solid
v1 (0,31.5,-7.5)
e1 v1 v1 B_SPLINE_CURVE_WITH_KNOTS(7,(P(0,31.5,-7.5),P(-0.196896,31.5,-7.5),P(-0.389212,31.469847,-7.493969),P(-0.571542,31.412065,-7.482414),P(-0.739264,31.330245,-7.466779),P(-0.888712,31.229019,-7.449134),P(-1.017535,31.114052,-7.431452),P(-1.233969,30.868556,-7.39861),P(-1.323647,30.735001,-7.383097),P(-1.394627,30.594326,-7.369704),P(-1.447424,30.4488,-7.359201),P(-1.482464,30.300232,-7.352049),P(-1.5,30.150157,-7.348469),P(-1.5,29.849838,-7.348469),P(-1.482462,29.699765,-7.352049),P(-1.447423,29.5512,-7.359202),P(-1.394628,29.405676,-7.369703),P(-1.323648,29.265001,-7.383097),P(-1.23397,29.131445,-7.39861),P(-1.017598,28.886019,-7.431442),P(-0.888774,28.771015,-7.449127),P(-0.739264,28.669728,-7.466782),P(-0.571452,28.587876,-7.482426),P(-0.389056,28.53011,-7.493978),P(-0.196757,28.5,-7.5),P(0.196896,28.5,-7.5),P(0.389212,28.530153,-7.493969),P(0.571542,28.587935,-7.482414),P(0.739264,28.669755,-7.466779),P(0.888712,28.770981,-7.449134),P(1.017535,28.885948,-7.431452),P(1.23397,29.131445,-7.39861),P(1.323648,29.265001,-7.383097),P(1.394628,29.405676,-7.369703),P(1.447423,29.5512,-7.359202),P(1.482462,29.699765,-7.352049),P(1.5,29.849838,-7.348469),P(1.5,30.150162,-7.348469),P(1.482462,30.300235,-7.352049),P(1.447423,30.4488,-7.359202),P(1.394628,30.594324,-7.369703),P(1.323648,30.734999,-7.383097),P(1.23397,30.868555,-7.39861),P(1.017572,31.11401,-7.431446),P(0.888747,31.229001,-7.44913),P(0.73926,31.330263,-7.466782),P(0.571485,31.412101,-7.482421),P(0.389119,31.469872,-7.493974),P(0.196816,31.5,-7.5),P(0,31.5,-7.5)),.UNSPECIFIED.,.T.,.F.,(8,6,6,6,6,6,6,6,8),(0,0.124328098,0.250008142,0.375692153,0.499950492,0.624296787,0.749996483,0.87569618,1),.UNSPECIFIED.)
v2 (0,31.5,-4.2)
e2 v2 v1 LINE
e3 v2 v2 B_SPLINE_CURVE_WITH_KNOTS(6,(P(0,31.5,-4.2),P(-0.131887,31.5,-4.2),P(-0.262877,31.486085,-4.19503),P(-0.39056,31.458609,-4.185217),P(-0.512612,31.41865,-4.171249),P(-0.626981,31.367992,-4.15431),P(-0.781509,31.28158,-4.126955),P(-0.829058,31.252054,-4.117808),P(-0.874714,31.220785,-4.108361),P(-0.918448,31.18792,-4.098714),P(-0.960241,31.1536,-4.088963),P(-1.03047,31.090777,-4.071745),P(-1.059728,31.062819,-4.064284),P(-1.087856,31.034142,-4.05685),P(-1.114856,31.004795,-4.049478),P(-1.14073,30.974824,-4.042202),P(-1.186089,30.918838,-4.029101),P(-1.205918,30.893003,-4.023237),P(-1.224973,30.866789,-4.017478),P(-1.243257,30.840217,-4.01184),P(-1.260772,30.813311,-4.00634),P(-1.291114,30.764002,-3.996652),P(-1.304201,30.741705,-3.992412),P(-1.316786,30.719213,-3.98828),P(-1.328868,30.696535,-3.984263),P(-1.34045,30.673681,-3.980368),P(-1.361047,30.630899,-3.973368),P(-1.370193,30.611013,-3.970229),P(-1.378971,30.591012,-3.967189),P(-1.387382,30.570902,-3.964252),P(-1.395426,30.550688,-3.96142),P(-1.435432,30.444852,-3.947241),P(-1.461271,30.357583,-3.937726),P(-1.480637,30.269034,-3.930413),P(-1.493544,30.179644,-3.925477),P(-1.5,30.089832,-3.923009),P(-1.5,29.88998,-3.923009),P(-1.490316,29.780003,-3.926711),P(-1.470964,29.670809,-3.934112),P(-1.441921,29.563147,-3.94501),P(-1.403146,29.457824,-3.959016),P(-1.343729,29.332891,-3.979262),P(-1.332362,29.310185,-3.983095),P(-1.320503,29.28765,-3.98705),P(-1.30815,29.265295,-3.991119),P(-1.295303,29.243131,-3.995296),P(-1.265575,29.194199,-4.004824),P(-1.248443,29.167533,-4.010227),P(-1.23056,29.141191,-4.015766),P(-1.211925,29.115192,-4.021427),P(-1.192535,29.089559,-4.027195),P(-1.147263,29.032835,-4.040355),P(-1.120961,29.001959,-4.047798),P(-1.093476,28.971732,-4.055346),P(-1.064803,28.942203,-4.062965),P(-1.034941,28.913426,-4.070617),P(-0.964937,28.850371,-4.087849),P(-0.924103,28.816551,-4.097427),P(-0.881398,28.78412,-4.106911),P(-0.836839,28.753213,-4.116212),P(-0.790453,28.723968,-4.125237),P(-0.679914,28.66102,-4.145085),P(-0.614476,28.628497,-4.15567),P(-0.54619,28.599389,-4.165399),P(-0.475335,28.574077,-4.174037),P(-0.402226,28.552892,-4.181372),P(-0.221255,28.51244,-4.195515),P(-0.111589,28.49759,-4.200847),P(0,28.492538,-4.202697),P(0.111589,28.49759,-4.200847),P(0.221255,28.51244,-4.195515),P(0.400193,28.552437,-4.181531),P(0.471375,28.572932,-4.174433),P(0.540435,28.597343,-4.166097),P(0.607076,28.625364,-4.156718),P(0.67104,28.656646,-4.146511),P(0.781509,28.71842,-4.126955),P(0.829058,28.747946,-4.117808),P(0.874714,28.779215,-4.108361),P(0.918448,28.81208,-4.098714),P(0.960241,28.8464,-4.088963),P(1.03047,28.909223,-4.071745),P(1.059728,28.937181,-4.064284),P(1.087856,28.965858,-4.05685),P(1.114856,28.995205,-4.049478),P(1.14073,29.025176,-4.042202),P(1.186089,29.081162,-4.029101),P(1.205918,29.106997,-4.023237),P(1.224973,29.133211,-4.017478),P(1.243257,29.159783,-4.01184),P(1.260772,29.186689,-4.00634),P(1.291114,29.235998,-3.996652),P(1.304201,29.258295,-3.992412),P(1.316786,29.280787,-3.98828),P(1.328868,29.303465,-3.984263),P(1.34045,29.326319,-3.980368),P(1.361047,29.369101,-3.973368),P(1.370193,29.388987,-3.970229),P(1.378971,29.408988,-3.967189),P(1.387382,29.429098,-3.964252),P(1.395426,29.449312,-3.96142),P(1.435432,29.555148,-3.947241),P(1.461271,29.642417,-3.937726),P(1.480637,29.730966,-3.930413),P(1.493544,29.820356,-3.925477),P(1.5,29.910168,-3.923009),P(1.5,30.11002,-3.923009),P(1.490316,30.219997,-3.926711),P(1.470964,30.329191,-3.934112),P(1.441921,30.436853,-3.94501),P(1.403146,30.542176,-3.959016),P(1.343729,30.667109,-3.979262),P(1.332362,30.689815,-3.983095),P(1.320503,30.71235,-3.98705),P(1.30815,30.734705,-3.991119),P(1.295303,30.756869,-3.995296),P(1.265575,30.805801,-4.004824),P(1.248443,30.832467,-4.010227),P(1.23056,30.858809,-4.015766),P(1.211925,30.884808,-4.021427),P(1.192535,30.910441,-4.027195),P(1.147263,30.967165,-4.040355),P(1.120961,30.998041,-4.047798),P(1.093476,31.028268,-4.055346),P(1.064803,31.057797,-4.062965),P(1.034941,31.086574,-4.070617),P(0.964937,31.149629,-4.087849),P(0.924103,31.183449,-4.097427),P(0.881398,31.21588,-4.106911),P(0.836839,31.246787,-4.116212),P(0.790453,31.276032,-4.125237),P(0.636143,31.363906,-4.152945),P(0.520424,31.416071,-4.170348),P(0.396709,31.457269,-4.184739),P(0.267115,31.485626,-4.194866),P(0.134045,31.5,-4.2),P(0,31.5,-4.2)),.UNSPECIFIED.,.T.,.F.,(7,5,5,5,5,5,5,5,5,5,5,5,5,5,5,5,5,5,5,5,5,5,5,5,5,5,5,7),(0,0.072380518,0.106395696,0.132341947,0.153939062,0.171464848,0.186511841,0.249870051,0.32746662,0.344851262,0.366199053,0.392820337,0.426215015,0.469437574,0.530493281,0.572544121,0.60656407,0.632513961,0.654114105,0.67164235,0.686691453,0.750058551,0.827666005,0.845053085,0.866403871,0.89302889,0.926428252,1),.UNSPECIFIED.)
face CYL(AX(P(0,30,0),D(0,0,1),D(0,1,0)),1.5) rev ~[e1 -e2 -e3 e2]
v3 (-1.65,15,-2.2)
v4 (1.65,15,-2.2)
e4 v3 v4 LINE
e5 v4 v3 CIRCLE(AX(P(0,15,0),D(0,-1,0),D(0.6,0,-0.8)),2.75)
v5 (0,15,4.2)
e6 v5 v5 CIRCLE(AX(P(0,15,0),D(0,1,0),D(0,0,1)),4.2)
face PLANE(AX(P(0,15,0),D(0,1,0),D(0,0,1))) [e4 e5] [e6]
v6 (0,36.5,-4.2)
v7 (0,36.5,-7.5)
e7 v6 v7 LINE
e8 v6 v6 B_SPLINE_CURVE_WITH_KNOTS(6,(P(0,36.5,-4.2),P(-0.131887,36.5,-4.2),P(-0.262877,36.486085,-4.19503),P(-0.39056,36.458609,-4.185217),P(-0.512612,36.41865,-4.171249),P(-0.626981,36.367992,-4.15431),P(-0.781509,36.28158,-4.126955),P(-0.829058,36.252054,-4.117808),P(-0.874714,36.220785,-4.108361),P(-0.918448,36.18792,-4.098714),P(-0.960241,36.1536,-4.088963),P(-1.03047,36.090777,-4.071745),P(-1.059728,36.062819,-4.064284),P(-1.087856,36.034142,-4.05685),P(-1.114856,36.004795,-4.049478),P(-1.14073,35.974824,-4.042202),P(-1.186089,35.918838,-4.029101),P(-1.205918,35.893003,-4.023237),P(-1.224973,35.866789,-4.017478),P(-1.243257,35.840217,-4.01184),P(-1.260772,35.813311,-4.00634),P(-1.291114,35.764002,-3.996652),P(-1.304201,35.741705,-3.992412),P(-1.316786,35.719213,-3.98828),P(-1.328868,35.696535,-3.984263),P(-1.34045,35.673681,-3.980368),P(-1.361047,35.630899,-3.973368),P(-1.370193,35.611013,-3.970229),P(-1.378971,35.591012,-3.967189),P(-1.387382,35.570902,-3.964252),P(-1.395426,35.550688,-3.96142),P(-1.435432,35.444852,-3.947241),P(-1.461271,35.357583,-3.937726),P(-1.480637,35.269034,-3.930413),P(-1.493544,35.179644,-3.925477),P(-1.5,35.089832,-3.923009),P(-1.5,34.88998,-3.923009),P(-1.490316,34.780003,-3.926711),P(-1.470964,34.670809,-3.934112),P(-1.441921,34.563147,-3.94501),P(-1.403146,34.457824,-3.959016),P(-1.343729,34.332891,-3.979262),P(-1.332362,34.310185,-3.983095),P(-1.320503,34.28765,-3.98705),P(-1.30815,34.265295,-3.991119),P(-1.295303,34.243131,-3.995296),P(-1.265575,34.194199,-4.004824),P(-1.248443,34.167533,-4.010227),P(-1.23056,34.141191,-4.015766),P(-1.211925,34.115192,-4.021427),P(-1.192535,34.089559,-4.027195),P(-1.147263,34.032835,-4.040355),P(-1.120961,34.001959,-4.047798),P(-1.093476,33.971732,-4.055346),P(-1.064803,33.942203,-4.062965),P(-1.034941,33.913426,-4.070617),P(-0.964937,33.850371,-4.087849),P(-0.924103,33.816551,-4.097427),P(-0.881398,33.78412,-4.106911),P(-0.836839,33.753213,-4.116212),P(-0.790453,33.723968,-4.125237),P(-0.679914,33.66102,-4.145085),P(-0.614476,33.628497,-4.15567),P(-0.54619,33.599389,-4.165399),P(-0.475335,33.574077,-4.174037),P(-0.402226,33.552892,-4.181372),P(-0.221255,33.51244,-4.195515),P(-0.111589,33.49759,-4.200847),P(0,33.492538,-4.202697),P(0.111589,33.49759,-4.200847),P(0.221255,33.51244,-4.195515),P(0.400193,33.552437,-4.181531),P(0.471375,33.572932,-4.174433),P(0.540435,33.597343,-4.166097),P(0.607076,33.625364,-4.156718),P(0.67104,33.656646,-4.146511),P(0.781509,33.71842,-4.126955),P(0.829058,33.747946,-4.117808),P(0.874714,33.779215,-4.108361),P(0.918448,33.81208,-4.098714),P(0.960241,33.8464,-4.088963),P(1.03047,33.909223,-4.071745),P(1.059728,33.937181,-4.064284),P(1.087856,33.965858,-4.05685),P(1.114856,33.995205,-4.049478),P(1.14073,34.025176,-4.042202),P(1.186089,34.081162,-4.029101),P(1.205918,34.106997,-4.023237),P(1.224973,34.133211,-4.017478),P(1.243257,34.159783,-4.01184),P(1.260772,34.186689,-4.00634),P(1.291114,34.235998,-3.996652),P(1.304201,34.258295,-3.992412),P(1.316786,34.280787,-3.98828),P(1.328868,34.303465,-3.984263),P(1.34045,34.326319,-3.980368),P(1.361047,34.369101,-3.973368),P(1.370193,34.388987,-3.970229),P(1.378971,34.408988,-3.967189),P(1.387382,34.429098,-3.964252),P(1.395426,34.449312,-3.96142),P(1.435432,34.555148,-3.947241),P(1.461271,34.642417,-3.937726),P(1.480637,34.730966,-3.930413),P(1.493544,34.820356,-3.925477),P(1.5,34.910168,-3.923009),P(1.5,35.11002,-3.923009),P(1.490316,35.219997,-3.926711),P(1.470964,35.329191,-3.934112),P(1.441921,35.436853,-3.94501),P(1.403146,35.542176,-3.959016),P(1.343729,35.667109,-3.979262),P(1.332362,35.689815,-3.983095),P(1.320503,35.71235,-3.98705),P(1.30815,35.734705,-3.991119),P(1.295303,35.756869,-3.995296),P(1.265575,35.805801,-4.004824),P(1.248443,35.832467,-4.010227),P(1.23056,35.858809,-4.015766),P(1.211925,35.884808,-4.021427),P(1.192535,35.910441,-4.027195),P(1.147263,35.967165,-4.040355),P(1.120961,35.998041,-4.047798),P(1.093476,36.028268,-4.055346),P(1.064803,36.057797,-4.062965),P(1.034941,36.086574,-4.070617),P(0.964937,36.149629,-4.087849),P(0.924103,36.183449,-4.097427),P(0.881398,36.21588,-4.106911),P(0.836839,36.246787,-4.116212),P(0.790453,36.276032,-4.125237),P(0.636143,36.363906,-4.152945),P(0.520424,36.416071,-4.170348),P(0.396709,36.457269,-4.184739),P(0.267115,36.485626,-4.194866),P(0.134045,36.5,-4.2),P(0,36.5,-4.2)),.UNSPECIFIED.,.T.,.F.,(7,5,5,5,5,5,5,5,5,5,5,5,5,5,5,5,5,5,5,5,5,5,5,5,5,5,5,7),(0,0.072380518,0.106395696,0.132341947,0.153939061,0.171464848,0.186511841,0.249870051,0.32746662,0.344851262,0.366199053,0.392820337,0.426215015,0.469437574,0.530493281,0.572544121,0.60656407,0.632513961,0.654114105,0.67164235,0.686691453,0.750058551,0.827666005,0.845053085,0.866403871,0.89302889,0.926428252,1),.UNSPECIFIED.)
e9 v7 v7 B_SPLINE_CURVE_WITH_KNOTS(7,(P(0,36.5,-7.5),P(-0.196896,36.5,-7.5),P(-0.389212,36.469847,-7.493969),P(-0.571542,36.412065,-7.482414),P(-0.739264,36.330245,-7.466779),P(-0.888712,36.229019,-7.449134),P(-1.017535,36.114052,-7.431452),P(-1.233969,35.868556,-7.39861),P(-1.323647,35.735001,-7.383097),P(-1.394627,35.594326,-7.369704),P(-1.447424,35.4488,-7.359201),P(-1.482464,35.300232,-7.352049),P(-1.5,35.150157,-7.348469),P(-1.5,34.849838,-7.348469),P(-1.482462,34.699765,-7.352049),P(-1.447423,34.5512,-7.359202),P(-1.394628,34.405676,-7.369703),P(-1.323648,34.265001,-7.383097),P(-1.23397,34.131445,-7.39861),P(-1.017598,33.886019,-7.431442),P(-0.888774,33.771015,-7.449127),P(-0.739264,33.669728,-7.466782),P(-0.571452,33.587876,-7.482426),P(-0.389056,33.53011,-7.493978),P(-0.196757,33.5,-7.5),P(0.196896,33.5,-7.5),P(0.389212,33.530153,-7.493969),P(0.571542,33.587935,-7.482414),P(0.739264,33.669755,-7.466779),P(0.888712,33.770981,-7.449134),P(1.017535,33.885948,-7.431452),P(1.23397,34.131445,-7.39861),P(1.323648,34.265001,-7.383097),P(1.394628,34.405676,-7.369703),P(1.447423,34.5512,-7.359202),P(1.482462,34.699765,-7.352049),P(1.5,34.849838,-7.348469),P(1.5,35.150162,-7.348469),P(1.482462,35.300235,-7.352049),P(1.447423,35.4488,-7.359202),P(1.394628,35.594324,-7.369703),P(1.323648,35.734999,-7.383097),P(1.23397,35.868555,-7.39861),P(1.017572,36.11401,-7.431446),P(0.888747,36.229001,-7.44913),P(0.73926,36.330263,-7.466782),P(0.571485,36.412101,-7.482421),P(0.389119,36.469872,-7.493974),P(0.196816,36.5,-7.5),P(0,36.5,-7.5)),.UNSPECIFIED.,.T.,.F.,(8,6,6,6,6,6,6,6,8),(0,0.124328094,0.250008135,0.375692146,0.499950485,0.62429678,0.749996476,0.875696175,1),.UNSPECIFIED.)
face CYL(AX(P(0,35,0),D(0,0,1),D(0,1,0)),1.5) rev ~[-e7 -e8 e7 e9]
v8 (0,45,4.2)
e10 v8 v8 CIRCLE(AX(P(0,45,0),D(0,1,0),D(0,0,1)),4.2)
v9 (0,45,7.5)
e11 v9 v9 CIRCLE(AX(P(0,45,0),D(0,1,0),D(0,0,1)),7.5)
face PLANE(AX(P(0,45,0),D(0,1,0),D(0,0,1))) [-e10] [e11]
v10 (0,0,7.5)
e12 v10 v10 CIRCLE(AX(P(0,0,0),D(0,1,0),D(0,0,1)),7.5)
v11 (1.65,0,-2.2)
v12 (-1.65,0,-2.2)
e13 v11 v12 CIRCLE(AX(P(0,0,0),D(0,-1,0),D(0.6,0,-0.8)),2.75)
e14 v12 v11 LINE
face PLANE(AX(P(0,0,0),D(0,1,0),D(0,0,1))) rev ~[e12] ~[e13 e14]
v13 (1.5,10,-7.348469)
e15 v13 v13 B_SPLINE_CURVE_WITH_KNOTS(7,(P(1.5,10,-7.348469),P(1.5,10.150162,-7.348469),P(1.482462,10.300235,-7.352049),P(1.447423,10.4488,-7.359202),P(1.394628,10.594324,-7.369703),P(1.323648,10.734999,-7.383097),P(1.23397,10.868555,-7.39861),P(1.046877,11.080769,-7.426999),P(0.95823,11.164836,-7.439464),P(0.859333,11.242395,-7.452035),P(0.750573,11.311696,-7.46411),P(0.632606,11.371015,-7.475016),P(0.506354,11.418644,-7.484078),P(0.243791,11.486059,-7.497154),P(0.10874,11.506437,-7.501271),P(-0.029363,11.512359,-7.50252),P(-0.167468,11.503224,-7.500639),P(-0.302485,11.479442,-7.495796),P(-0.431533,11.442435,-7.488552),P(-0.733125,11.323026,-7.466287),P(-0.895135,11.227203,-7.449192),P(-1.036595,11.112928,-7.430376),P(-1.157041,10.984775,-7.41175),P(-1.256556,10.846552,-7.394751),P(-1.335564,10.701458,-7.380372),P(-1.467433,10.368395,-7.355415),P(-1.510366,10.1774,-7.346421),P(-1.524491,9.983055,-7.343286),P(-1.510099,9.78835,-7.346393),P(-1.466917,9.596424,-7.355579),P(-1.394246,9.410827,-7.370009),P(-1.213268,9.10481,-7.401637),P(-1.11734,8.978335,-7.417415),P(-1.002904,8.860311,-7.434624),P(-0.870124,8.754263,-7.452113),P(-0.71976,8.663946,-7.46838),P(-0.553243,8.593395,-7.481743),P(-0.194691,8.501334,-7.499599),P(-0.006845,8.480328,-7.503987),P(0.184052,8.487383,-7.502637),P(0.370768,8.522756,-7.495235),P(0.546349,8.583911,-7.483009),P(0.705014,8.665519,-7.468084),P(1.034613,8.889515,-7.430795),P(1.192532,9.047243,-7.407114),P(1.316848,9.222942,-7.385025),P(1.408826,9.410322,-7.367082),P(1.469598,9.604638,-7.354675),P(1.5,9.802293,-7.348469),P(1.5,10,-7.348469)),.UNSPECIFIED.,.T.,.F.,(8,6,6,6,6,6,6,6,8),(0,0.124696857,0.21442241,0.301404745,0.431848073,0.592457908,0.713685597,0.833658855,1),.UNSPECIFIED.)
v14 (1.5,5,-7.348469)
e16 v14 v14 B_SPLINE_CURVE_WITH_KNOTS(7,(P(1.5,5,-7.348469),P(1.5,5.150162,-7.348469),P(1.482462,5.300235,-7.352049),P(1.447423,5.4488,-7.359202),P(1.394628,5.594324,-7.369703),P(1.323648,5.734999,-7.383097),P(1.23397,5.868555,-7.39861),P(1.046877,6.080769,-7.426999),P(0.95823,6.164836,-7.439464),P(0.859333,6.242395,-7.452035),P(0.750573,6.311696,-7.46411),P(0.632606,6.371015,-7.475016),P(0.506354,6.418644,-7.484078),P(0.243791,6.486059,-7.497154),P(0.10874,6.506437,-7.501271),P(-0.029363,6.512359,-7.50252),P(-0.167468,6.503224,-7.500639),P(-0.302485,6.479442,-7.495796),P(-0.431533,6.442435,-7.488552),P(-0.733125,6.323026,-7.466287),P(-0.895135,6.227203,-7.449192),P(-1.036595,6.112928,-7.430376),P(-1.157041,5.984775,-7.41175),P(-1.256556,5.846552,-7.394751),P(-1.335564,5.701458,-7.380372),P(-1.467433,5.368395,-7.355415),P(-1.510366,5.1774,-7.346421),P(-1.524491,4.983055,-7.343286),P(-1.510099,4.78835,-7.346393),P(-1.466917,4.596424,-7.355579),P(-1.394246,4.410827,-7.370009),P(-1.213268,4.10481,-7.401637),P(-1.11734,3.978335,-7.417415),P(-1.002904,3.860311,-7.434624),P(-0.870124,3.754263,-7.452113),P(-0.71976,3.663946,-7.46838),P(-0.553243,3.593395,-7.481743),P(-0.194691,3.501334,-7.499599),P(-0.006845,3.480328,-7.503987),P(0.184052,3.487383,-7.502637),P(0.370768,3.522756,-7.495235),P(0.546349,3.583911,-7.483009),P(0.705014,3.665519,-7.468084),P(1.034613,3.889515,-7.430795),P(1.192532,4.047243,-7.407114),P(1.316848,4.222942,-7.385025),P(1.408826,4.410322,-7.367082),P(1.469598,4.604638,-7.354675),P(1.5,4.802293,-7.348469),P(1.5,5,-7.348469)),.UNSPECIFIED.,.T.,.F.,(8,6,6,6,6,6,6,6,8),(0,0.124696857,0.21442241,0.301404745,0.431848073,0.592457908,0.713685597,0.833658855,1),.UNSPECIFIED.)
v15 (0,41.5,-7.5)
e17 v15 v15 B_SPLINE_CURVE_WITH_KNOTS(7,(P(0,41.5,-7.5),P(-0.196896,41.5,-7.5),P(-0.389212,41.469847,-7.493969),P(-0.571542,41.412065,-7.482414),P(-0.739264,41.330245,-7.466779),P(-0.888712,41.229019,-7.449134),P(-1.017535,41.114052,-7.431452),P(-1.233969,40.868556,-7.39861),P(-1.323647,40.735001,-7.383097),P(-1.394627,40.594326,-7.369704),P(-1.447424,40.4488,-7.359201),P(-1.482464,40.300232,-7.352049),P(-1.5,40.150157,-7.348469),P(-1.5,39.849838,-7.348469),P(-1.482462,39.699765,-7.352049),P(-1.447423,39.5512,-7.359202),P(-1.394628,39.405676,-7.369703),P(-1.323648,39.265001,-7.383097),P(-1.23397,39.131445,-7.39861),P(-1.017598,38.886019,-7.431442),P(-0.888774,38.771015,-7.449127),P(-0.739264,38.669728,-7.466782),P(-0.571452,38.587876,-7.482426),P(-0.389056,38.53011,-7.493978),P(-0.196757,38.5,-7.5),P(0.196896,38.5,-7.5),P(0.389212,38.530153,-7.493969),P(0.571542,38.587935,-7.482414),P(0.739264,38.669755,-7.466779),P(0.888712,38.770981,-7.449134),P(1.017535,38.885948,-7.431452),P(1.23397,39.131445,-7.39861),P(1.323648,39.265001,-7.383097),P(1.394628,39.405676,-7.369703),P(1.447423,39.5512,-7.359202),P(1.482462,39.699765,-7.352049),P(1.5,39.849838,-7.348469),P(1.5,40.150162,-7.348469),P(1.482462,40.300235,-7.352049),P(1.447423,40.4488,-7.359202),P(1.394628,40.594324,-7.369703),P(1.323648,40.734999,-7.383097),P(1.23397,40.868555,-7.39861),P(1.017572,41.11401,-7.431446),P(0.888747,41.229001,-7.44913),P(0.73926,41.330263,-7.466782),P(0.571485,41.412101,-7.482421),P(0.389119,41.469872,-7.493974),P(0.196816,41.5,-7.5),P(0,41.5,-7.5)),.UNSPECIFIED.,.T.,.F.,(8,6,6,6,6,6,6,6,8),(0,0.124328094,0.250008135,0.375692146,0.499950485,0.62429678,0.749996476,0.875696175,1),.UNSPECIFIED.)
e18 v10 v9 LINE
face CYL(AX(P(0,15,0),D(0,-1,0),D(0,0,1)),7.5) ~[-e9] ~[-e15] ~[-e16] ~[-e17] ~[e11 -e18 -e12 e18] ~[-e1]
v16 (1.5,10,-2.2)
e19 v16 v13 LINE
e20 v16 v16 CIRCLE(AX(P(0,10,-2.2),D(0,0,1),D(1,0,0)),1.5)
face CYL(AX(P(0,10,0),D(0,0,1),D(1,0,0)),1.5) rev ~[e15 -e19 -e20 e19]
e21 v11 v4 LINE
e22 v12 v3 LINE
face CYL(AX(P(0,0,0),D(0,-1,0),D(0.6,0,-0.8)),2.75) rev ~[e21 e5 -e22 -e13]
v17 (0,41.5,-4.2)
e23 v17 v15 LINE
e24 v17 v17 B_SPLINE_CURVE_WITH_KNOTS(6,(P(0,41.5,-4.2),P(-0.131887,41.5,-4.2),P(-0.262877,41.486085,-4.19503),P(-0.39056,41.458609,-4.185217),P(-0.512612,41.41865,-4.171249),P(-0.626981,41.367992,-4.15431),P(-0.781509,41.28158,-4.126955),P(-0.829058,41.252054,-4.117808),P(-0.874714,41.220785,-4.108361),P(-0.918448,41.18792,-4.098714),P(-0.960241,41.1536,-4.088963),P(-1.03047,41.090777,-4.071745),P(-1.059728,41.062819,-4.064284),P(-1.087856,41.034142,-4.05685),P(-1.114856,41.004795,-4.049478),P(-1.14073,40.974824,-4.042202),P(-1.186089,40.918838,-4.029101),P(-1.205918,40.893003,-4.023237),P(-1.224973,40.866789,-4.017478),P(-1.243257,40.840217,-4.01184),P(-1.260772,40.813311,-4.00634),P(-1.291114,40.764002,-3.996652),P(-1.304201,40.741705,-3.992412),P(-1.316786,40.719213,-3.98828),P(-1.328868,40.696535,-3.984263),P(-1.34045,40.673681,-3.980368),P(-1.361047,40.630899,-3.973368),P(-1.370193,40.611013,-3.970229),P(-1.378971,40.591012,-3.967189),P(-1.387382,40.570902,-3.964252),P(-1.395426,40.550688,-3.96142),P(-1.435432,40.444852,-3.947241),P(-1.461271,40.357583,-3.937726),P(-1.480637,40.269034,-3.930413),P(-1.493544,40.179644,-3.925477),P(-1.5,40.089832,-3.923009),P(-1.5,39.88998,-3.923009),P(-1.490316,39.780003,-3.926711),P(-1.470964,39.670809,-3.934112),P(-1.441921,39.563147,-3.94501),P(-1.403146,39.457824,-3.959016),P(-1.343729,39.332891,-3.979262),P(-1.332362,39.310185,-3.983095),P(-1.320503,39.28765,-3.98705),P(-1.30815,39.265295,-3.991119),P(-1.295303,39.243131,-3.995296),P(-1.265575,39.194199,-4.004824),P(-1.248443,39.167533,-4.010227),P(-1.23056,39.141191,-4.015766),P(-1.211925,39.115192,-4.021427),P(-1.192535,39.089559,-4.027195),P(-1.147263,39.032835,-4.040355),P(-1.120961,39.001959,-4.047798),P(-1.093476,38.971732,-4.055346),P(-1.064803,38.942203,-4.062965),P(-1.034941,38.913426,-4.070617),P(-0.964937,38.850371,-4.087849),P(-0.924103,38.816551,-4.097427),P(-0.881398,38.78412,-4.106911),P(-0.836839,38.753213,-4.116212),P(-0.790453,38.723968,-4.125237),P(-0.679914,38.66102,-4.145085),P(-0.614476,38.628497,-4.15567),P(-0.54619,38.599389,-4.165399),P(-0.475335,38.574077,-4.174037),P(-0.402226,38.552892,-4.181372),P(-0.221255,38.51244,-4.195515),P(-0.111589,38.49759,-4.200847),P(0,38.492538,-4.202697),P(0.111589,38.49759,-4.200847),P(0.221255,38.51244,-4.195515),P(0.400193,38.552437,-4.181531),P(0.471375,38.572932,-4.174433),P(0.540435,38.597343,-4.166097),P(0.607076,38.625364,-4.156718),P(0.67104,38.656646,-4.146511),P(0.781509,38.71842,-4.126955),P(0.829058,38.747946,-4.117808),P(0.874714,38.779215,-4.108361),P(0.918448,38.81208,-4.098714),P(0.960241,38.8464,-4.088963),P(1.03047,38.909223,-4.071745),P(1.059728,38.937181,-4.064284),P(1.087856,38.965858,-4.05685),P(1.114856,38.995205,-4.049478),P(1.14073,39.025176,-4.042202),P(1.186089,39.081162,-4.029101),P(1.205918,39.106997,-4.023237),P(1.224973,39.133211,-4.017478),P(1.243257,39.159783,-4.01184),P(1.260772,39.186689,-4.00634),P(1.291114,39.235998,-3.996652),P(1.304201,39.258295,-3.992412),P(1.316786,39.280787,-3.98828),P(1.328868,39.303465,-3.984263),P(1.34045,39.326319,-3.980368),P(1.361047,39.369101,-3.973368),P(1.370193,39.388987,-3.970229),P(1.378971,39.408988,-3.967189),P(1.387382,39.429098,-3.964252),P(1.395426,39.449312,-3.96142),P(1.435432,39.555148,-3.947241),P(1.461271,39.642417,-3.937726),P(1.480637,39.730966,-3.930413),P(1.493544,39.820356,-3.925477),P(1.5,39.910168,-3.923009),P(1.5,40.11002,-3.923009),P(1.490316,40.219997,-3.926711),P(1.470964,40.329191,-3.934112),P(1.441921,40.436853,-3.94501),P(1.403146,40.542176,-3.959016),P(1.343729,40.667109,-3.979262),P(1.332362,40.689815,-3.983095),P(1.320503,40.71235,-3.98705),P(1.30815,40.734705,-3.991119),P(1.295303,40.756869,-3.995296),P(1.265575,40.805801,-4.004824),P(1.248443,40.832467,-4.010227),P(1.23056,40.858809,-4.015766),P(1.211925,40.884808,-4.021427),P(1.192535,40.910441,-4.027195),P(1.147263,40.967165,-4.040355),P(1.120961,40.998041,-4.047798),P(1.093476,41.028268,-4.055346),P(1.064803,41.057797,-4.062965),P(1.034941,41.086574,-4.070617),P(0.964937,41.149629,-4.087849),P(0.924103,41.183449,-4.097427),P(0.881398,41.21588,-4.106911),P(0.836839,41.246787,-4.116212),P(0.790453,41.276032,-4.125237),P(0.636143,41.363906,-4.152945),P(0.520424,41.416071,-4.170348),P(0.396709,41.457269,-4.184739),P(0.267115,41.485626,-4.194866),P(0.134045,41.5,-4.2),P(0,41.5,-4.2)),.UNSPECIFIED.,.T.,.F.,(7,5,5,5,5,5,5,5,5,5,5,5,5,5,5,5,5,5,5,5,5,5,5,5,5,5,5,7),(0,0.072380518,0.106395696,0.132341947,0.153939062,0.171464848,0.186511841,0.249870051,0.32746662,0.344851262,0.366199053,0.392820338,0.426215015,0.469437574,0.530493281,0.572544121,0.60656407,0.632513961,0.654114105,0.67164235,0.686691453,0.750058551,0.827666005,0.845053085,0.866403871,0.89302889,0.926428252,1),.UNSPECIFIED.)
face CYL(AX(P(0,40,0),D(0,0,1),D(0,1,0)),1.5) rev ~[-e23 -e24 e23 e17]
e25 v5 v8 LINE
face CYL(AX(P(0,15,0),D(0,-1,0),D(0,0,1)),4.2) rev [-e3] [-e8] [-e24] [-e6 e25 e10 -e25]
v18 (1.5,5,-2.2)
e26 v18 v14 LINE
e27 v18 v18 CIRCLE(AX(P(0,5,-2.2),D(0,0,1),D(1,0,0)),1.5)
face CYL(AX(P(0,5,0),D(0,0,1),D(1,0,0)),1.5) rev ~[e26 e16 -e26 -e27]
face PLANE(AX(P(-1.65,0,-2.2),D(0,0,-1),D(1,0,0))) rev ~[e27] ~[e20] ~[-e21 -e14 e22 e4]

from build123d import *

# Parameters (mm, degrees)
IZIM1_R                     = 7.5
Y_KSEKLIK_EKSTR_ZYON1_DEPTH = 15
IZIM2_R                     = 7.5
IZIM2_R_2                   = 4.2
Y_KSEKLIK_EKSTR_ZYON2_DEPTH = 30
IZIM3_R                     = 1.5
KES_EKSTR_ZYON1_DEPTH       = 10


with BuildPart() as part:
    # Çizim1 → Yükseklik-Ekstrüzyon1 (new body)
    with BuildSketch(Plane(origin=(0, 0, 0), x_dir=(1, 0, 0), z_dir=(0, 1, 0))):
        with Locations(Location((0, 0, 0), (0, 0, 270))):
            Circle(IZIM1_R)
        with BuildLine():
            Line((-1.65, 2.2), (1.65, 2.2))
            ThreePointArc((1.65, 2.2), (0, -2.75), (-1.65, 2.2))
        make_face(mode=Mode.SUBTRACT)
    extrude(amount=Y_KSEKLIK_EKSTR_ZYON1_DEPTH)

    # Çizim2 → Yükseklik-Ekstrüzyon2 (add)
    with BuildSketch(Plane(origin=(0, 15, 0), x_dir=(1, 0, 0), z_dir=(0, 1, 0))):
        with Locations(Location((0, 0, 0), (0, 0, 270))):
            Circle(IZIM2_R)
        with Locations(Location((0, 0, 0), (0, 0, 270))):
            Circle(IZIM2_R_2, mode=Mode.SUBTRACT)
    extrude(amount=Y_KSEKLIK_EKSTR_ZYON2_DEPTH)

    # Çizim3 → Kes-Ekstrüzyon1 (cut)
    with BuildSketch(Plane.XY):
        with Locations(Location((0, 40, 0), (0, 0, 90))):
            Circle(IZIM3_R)
        with Locations(Location((0, 35, 0), (0, 0, 90))):
            Circle(IZIM3_R)
        with Locations(Location((0, 30, 0), (0, 0, 90))):
            Circle(IZIM3_R)
        with Locations((0, 10)):
            Circle(IZIM3_R)
        with Locations((0, 5)):
            Circle(IZIM3_R)
    extrude(amount=-KES_EKSTR_ZYON1_DEPTH, mode=Mode.SUBTRACT)


solid = part.part
